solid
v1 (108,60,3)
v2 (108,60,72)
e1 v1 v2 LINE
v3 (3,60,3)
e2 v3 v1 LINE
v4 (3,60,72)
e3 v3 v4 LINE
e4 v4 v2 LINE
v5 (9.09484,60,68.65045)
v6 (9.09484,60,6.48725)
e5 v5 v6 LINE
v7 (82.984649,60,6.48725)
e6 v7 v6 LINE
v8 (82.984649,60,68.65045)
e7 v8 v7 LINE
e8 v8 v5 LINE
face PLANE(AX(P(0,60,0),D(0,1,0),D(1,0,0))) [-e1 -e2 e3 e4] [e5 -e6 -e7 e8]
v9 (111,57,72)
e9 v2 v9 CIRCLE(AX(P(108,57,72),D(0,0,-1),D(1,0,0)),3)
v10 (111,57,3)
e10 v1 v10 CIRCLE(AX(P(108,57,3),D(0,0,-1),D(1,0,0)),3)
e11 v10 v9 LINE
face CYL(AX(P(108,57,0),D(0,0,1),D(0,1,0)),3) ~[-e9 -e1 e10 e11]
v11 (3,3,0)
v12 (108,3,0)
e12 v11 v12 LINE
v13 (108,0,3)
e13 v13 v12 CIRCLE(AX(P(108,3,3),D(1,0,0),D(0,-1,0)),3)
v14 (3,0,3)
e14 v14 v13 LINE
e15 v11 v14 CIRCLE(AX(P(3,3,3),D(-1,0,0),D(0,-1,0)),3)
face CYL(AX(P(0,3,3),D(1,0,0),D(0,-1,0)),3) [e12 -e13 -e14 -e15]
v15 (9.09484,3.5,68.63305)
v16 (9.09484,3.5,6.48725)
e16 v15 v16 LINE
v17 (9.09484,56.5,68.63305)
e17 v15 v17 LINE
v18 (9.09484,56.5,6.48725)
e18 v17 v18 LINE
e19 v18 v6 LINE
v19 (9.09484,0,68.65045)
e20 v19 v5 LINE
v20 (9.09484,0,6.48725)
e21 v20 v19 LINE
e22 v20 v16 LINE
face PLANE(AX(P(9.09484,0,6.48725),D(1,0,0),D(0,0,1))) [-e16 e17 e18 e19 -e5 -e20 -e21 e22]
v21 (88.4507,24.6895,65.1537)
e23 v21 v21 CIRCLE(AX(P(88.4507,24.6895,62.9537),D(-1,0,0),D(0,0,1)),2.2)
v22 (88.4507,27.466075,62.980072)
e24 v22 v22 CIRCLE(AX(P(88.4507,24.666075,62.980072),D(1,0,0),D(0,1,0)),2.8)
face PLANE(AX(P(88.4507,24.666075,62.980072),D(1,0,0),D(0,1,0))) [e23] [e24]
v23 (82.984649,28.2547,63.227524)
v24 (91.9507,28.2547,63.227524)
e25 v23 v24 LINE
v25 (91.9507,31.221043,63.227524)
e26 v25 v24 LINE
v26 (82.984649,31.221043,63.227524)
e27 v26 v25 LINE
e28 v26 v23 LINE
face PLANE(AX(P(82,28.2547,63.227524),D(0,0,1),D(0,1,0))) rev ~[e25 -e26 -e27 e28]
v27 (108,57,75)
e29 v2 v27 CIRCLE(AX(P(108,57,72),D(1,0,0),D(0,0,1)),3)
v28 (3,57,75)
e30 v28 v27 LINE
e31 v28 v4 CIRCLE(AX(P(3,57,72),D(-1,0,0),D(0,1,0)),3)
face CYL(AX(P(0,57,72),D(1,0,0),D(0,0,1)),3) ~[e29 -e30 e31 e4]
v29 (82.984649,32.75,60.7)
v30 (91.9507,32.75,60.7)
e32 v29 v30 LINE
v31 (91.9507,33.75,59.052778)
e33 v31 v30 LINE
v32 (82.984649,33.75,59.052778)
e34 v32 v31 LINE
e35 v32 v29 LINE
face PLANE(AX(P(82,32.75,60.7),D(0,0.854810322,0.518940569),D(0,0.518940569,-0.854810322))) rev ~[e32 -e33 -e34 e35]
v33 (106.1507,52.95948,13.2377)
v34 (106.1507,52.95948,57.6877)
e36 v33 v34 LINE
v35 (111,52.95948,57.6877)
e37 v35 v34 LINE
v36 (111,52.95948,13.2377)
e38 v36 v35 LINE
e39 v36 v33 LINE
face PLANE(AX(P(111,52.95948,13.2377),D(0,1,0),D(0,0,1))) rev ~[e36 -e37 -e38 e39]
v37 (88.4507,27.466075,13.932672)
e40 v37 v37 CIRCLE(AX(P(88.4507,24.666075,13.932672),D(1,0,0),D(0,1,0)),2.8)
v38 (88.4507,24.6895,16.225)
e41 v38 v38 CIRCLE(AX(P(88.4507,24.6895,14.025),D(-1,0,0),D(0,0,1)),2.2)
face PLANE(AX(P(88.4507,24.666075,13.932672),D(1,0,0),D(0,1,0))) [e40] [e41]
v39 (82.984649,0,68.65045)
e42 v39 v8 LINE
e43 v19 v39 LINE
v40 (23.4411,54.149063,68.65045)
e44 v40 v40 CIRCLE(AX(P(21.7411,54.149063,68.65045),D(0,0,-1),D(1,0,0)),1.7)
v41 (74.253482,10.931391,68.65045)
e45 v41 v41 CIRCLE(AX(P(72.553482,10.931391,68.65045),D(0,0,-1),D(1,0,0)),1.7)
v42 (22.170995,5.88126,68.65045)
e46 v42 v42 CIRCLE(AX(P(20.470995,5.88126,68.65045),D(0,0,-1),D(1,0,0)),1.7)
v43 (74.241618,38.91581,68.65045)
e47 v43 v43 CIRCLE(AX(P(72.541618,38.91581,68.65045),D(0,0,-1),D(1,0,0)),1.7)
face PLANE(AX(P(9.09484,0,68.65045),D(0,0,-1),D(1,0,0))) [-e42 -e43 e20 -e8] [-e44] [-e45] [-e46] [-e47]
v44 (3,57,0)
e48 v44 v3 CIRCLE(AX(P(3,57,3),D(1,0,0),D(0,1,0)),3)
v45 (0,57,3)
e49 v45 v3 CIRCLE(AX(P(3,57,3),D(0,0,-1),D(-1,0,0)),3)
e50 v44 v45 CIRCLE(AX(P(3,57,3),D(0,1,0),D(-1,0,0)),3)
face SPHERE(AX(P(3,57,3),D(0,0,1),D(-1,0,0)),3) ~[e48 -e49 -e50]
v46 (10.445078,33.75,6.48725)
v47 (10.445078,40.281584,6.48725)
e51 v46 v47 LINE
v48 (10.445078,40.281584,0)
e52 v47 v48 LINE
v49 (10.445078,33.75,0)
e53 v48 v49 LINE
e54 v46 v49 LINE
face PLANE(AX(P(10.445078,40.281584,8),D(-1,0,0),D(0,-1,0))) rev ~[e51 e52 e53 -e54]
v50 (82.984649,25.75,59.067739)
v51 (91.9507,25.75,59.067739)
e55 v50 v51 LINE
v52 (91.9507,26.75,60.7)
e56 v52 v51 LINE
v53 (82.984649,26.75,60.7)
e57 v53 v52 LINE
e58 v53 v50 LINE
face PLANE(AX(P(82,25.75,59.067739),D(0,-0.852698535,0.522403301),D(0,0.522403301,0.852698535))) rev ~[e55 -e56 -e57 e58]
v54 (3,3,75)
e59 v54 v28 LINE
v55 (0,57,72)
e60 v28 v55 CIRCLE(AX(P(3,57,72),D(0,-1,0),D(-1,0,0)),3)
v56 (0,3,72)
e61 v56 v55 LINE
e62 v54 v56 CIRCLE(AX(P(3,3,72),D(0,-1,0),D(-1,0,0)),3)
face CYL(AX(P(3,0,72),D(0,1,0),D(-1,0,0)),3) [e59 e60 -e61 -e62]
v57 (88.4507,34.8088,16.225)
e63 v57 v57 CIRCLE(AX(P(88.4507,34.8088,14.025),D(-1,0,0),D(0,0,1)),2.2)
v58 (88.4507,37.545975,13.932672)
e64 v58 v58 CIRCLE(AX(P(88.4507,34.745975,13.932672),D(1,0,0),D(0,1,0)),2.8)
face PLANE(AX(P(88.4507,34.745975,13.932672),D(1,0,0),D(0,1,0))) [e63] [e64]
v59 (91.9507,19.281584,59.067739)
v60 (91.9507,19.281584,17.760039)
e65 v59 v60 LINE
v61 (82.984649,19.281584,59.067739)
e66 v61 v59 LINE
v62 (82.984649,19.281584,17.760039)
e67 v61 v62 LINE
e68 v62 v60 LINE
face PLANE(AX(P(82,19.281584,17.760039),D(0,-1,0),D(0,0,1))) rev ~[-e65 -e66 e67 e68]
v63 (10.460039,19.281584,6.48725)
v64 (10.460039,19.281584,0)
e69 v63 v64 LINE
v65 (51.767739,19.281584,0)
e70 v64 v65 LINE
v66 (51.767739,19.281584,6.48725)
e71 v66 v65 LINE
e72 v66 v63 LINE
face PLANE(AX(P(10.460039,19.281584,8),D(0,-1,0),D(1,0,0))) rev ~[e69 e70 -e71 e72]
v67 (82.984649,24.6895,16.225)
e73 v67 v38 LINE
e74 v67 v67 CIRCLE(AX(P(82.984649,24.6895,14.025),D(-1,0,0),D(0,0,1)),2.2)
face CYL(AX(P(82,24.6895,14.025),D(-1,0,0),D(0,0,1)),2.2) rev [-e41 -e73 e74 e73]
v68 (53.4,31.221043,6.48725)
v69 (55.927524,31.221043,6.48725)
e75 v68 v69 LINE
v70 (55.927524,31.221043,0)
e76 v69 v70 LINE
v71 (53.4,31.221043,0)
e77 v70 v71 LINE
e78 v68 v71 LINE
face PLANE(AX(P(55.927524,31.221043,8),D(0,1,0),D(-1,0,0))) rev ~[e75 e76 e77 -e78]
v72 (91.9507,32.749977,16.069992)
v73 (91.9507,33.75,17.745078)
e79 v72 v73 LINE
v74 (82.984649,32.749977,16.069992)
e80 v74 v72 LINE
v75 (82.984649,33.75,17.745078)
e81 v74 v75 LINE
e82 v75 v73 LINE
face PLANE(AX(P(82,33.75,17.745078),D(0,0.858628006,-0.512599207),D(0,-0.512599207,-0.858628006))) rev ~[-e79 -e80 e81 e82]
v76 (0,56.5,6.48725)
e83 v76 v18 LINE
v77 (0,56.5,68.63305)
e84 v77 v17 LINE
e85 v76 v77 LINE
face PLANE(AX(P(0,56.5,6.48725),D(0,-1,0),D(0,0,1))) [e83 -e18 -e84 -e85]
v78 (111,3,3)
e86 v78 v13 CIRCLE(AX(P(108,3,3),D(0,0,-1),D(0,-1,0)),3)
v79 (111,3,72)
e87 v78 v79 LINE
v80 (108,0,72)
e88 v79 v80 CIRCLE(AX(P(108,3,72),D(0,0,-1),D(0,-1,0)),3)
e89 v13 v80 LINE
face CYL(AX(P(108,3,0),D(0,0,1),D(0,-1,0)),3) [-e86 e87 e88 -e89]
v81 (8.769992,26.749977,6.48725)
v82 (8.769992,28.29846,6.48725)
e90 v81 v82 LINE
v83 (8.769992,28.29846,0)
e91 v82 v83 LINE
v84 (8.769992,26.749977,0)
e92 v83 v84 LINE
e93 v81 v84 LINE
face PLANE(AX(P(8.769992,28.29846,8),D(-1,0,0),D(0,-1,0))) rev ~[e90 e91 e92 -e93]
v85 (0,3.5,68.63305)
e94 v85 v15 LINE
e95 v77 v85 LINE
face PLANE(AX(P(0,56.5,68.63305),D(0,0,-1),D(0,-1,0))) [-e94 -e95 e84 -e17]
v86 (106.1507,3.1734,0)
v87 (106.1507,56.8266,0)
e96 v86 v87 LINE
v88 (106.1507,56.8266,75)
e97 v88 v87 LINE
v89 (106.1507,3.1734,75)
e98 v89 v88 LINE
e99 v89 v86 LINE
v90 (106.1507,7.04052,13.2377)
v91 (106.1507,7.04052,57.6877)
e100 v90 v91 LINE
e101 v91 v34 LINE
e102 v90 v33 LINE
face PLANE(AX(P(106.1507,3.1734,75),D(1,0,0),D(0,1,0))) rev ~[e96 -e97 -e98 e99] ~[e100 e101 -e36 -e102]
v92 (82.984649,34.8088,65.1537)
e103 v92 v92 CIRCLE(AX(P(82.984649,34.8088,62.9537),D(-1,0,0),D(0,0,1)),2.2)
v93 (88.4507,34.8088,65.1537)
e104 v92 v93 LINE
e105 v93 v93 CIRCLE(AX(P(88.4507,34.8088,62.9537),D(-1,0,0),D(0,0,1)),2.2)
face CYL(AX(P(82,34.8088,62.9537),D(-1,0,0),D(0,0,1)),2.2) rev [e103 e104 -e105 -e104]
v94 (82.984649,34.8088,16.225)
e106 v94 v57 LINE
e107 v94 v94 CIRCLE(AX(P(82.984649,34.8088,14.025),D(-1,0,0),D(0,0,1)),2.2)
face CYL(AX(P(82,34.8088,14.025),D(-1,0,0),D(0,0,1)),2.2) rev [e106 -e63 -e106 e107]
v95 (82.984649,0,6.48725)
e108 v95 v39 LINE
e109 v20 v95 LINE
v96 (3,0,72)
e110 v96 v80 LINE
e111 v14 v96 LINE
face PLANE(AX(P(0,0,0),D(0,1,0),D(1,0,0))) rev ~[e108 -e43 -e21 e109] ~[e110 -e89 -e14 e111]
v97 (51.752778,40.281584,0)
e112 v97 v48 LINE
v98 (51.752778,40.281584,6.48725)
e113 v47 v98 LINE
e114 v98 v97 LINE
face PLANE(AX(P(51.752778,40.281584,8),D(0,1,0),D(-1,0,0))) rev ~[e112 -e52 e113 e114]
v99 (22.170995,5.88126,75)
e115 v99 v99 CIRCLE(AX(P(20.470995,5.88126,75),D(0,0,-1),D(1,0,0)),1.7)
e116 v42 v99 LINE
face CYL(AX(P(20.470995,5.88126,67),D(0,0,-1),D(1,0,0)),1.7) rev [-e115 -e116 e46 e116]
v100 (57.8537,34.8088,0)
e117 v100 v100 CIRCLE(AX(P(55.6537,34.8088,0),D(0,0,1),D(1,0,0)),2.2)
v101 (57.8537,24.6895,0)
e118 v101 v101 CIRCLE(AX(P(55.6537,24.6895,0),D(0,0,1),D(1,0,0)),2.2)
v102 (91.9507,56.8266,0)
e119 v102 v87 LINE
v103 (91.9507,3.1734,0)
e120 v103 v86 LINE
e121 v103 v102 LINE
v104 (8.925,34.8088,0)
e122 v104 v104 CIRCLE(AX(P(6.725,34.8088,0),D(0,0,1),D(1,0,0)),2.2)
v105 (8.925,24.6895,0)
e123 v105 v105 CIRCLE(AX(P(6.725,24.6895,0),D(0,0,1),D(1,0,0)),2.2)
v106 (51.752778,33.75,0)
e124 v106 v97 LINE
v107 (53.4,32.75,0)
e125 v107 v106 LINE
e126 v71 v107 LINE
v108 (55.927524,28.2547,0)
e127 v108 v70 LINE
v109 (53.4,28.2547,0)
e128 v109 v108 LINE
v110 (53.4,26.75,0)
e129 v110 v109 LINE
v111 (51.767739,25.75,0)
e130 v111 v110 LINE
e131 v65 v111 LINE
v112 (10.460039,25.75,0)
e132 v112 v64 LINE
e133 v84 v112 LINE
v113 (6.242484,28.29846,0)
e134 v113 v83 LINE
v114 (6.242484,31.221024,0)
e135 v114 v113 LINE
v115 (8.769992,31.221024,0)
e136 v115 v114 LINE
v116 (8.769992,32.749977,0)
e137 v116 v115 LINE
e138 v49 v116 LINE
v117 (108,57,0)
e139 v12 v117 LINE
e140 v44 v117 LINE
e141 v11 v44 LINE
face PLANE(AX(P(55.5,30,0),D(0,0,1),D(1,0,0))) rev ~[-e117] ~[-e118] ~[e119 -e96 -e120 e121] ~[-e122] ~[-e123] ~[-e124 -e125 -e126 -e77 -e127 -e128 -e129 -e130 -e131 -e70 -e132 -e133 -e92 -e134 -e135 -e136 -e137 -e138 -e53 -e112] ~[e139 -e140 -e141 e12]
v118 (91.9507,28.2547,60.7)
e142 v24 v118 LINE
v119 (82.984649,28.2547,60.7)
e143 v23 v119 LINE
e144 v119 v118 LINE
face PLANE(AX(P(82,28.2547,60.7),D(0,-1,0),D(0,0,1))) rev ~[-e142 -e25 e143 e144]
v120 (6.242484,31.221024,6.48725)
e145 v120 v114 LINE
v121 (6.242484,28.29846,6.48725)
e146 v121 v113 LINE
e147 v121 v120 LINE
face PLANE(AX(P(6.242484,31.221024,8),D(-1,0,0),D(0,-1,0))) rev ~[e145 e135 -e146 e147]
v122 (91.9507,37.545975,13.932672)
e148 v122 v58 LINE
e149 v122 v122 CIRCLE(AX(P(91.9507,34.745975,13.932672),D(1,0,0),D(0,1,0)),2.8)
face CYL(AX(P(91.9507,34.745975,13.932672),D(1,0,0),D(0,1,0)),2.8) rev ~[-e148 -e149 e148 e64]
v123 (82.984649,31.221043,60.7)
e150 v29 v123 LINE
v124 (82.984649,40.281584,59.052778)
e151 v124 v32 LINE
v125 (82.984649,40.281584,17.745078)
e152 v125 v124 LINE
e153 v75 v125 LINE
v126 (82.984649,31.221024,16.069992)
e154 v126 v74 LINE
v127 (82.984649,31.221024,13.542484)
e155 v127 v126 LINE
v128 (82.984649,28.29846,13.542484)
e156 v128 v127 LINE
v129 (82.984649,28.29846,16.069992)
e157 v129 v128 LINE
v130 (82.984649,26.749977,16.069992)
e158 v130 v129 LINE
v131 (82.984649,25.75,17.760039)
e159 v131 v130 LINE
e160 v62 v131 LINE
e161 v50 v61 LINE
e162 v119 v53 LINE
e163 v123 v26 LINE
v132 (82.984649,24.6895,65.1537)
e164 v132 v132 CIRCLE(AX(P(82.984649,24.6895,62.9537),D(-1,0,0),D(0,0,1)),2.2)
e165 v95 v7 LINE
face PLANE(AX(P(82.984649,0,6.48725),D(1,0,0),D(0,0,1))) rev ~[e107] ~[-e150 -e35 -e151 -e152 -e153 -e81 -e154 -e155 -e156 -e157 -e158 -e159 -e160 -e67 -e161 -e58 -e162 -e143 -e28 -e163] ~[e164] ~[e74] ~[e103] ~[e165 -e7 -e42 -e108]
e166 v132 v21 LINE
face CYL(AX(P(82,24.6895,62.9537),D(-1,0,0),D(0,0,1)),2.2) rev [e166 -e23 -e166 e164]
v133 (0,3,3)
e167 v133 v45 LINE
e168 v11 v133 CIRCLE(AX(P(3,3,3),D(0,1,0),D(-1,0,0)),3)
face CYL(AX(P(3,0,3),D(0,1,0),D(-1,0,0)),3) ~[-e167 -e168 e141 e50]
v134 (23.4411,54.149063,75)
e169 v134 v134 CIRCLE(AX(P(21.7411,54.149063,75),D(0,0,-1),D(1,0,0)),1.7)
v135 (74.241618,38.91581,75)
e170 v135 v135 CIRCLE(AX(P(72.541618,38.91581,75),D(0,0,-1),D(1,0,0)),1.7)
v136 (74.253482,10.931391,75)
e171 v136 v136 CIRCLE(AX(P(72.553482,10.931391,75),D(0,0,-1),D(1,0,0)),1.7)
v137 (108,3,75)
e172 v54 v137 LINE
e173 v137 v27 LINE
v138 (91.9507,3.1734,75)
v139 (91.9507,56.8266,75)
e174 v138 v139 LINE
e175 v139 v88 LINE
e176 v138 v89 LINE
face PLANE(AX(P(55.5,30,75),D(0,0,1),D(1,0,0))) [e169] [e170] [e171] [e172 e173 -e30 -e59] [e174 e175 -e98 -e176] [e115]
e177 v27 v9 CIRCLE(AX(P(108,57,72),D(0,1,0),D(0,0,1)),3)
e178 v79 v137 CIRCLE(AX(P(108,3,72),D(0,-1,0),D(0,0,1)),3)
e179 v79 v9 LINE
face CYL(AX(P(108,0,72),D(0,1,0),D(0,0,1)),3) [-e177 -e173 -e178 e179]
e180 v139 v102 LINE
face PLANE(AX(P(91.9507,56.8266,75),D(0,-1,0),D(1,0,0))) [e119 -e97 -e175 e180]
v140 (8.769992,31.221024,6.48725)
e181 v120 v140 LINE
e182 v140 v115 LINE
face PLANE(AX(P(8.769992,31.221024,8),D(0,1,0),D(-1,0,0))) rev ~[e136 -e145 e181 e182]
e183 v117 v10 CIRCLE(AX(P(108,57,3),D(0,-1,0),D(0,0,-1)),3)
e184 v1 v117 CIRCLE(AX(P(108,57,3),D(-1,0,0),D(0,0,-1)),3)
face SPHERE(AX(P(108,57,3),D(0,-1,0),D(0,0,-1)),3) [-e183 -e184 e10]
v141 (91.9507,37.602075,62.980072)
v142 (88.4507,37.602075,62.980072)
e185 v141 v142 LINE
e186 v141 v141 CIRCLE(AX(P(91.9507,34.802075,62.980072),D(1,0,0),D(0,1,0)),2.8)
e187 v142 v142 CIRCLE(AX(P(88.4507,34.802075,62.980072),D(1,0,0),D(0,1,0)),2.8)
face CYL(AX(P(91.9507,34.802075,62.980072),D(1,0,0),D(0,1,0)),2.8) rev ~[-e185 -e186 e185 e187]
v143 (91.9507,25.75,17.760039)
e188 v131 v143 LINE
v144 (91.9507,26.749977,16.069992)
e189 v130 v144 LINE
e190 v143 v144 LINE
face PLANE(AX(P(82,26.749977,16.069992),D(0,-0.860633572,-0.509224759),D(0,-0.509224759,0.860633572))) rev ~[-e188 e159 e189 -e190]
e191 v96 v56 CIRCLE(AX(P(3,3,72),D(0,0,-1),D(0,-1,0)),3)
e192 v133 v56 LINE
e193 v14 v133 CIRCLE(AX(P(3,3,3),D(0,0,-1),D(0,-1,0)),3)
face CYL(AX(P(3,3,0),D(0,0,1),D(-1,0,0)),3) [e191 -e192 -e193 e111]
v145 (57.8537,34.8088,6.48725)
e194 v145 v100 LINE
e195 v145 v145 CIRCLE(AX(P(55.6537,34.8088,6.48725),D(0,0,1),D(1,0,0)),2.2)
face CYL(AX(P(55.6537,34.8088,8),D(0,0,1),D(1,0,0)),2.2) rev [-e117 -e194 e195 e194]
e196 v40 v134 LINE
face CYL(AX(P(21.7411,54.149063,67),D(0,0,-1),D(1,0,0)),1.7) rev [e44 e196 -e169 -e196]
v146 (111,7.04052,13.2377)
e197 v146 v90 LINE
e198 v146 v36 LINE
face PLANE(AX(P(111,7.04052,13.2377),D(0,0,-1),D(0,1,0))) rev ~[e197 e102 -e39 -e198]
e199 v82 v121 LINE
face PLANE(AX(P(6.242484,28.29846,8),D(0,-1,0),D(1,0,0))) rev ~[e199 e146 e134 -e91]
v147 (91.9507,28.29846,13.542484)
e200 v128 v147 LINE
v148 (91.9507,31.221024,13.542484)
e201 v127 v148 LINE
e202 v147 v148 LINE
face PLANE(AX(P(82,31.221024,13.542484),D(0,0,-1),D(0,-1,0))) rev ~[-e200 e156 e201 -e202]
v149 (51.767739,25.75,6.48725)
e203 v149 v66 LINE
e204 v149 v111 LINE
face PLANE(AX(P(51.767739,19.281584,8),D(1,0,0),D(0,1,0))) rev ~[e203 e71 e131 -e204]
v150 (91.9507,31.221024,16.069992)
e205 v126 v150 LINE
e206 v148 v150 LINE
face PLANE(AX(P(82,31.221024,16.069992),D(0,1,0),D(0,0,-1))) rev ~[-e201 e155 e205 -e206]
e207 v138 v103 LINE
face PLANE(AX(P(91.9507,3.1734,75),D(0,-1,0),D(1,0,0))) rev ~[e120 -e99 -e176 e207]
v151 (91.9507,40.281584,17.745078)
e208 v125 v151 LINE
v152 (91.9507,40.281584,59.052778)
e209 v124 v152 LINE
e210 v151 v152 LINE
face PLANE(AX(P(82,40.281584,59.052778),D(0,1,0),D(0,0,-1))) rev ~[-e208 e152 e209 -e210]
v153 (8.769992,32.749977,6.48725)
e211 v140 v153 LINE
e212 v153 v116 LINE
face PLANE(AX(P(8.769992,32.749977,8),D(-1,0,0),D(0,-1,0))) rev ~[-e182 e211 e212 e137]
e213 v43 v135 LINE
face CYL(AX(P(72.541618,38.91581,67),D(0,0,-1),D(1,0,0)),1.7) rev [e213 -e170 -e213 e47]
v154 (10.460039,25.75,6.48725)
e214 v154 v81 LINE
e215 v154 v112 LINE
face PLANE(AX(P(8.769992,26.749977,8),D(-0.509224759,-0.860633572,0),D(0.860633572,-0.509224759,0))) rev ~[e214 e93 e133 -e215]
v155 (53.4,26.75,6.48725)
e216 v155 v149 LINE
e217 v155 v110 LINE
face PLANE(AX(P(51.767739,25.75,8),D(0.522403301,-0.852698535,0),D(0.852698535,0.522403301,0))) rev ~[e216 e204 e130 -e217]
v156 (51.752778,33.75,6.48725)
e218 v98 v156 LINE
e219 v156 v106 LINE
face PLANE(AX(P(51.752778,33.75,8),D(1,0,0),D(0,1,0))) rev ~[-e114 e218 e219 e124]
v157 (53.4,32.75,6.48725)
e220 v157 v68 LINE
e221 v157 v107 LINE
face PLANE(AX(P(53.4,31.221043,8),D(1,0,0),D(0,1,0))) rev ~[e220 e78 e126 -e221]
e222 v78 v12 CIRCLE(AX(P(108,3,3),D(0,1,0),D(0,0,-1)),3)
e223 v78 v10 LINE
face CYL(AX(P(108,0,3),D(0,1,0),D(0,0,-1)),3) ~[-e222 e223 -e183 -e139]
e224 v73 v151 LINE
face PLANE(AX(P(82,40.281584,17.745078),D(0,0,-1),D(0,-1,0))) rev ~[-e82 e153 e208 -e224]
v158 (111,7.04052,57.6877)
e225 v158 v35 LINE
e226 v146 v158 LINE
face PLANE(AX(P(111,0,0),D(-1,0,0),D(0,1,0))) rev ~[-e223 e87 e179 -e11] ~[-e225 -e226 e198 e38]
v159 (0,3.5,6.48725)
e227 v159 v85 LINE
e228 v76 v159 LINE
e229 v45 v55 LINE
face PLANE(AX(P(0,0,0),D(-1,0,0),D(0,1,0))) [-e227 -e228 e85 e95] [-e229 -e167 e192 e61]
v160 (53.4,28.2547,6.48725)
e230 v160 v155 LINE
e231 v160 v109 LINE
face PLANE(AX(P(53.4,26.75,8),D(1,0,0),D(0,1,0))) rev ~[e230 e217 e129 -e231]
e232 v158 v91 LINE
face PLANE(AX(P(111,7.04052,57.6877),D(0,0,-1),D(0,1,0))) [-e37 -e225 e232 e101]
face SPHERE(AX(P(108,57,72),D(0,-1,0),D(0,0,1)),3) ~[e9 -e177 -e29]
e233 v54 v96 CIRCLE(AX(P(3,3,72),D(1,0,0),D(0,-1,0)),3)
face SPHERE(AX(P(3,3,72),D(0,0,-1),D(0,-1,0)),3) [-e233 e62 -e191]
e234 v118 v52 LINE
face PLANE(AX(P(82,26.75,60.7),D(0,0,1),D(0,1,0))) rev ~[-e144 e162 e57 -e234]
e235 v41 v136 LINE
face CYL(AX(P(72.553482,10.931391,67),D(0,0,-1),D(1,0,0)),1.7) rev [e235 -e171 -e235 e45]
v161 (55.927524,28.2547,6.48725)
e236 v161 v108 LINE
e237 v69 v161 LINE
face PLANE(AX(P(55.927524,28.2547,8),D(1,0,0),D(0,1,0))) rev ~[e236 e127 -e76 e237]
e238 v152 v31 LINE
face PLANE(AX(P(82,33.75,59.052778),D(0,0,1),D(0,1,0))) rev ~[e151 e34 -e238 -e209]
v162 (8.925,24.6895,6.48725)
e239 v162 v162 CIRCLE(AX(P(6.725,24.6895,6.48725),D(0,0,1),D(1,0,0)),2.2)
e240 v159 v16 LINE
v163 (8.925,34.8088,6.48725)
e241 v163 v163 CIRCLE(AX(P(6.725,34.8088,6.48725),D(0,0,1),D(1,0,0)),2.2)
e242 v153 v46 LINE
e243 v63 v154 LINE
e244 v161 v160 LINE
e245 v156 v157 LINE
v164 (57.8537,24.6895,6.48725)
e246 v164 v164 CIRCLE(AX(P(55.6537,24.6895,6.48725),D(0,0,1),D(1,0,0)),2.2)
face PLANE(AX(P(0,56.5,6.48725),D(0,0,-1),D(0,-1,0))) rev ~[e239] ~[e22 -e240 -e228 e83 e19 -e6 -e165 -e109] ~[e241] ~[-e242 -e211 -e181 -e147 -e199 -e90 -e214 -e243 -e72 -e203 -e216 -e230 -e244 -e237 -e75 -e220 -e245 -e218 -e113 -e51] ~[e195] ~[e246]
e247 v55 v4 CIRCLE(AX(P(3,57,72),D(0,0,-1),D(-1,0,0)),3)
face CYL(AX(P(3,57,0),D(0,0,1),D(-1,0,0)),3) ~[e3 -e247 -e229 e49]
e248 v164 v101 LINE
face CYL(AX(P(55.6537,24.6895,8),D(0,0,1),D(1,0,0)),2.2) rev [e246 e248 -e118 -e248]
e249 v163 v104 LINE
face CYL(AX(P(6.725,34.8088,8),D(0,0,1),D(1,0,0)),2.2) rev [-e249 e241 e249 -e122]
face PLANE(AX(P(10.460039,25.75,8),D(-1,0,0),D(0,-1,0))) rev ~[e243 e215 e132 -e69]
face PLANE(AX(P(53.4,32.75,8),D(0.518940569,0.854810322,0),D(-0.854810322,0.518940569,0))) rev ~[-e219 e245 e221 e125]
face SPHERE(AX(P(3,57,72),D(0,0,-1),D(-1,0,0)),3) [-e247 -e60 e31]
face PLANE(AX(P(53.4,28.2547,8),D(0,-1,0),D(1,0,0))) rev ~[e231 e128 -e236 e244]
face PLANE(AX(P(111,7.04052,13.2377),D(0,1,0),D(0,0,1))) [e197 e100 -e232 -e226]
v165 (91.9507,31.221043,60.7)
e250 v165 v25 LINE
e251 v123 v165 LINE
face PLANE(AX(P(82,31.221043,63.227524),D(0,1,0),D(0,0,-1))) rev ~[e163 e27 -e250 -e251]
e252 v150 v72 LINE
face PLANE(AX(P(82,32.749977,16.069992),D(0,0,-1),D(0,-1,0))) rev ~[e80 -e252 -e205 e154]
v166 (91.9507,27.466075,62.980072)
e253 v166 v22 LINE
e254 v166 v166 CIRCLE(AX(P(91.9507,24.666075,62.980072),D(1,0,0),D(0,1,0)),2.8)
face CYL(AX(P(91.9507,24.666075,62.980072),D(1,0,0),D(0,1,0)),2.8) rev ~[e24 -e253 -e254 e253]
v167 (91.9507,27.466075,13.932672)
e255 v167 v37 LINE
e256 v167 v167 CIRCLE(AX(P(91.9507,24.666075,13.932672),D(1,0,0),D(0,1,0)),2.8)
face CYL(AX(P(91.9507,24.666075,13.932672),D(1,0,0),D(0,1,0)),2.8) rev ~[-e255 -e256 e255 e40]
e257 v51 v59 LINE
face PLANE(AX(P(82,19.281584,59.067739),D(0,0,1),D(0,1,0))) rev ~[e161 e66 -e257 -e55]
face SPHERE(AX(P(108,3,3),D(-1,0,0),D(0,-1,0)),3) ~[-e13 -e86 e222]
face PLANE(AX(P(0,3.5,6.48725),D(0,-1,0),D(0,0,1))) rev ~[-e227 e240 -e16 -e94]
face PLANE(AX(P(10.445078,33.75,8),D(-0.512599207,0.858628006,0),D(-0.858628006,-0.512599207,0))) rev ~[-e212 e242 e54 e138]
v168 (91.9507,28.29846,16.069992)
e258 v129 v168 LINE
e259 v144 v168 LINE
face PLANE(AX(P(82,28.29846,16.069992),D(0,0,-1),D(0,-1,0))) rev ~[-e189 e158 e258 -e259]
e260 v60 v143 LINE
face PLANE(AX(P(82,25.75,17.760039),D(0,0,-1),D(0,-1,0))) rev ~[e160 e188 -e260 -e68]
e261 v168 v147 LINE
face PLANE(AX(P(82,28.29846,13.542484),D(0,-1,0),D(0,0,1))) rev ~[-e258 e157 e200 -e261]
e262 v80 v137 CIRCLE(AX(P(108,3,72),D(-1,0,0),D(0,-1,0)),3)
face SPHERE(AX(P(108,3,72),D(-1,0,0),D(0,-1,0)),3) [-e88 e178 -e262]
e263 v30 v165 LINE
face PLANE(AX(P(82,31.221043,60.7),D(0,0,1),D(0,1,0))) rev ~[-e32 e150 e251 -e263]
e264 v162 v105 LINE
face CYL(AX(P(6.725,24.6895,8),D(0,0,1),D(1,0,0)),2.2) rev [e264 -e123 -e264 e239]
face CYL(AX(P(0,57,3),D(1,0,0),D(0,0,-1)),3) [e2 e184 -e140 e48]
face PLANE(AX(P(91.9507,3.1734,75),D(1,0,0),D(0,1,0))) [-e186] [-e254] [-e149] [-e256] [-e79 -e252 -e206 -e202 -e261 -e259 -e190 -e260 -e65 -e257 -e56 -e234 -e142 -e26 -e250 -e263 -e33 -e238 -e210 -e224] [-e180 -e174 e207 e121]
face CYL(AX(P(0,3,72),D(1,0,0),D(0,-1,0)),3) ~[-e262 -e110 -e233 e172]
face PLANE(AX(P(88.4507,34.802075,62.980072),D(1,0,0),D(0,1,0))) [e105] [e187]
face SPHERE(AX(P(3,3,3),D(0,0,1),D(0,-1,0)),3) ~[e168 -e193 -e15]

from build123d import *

# Parameters (mm, degrees)
SKETCH041_R              = 2.2
PAD010_DEPTH             = 20
SKETCH042_R              = 2.2
PAD011_DEPTH             = 20
SKETCH033_R              = 1.7
EXTRUDE002_DEPTH         = 10
SKETCH035_W              = 111
SKETCH035_H              = 60
PAD009_DEPTH             = 75
SKETCH036_W              = 73.889809
SKETCH036_H              = 62.1632
POCKET002008007007_DEPTH = 65
SKETCH037_W              = 53
SKETCH037_H              = 62.1458
POCKET002008007008_DEPTH = 10
SKETCH038_W              = 14.2
SKETCH038_H              = 53.6532
POCKET002008007009_DEPTH = 90
SKETCH039_W              = 45.91896
SKETCH039_H              = 44.45
POCKET002008007010_DEPTH = 15
SKETCH043_R              = 2.8
POCKET002008007011_DEPTH = 3.5
FILLET001008003_R        = 3


with BuildPart() as futaba_hole_front:
    # Sketch041 → Pad010 (new body)
    with BuildSketch(Plane(origin=(82, 118.75, 168.7), x_dir=(0, 0, 1), z_dir=(1, 0, 0))):
        with Locations((-105.7463, 94.0605)):
            Circle(SKETCH041_R)
        with Locations((-105.7463, 83.9412)):
            Circle(SKETCH041_R)
        with Locations((-154.675, 83.9412)):
            Circle(SKETCH041_R)
        with Locations((-154.675, 94.0605)):
            Circle(SKETCH041_R)
        Polygon((-150.939961, 99.468416), (-109.632261, 99.468416), (-109.632261, 93), (-108, 92), (-108, 90.4953), (-105.472476, 90.4953), (-105.472476, 87.528957), (-108, 87.528957), (-108, 86), (-109.647222, 85), (-109.647222, 78.468416), (-150.954922, 78.468416), (-150.954922, 85), (-152.630008, 86.000023), (-152.630008, 87.528976), (-155.157516, 87.528976), (-155.157516, 90.45154), (-152.630008, 90.45154), (-152.630008, 92.000023), (-150.939961, 93), align=None)
    extrude(amount=PAD010_DEPTH)


with BuildPart() as futaba_hole_bottom:
    # Sketch042 → Pad011 (new body)
    with BuildSketch(Plane(origin=(161.4, 118.75, 8), x_dir=(1, 0, 0), z_dir=(0, 0, -1))):
        with Locations((-105.7463, 94.0605)):
            Circle(SKETCH042_R)
        with Locations((-105.7463, 83.9412)):
            Circle(SKETCH042_R)
        with Locations((-154.675, 83.9412)):
            Circle(SKETCH042_R)
        with Locations((-154.675, 94.0605)):
            Circle(SKETCH042_R)
        Polygon((-150.939961, 99.468416), (-109.632261, 99.468416), (-109.632261, 93), (-108, 92), (-108, 90.4953), (-105.472476, 90.4953), (-105.472476, 87.528957), (-108, 87.528957), (-108, 86), (-109.647222, 85), (-109.647222, 78.468416), (-150.954922, 78.468416), (-150.954922, 85), (-152.630008, 86.000023), (-152.630008, 87.528976), (-155.157516, 87.528976), (-155.157516, 90.45154), (-152.630008, 90.45154), (-152.630008, 92.000023), (-150.939961, 93), align=None)
    extrude(amount=PAD011_DEPTH)


with BuildPart() as holes_servos_and_arduino:
    # Sketch033 → Extrude002 (new body)
    with BuildSketch(Plane.XY.offset(60)):
        with Locations((21.7411, 54.149063)):
            Circle(SKETCH033_R)
        with Locations((20.470995, 5.88126)):
            Circle(SKETCH033_R)
        with Locations((72.541618, 38.91581)):
            Circle(SKETCH033_R)
        with Locations((72.553482, 10.931391)):
            Circle(SKETCH033_R)
    extrude(amount=EXTRUDE002_DEPTH)


with BuildPart() as holes_servos_and_arduino_1:
    # Extrude002 placement: moved
    add(holes_servos_and_arduino.part.moved(Location((0, 0, 7))))

    # Fusion009003005002: union futaba_hole_front, futaba_hole_bottom
    add(futaba_hole_front.part)
    add(futaba_hole_bottom.part)


with BuildPart() as futaba_arduino_body001:
    # Sketch035 → Pad009 (new body)
    with BuildSketch(Plane.XY):
        with Locations((55.5, 30)):
            Rectangle(SKETCH035_W, SKETCH035_H)
    extrude(amount=PAD009_DEPTH)

    # Sketch036 → Pocket002008007007 (cut)
    with BuildSketch(Plane.XZ):
        with Locations((46.039744, 37.56885)):
            Rectangle(SKETCH036_W, SKETCH036_H)
    extrude(amount=-POCKET002008007007_DEPTH, mode=Mode.SUBTRACT)

    # Sketch037 → Pocket002008007008 (cut)
    with BuildSketch(Plane(origin=(0, 0, 0), x_dir=(0, -1, 0), z_dir=(-1, 0, 0))):
        with Locations((-30, 37.56015)):
            Rectangle(SKETCH037_W, SKETCH037_H)
    extrude(amount=-POCKET002008007008_DEPTH, mode=Mode.SUBTRACT)

    # Sketch038 → Pocket002008007009 (cut)
    with BuildSketch(Plane.XY.offset(75)):
        with Locations((99.0507, 30)):
            Rectangle(SKETCH038_W, SKETCH038_H)
    extrude(amount=-POCKET002008007009_DEPTH, mode=Mode.SUBTRACT)

    # Sketch039 → Pocket002008007010 (cut)
    with BuildSketch(Plane.YZ.offset(111)):
        with Locations((30, 35.4627)):
            Rectangle(SKETCH039_W, SKETCH039_H)
    extrude(amount=-POCKET002008007010_DEPTH, mode=Mode.SUBTRACT)

    # Sketch043 → Pocket002008007011 (cut)
    with BuildSketch(Plane.YZ.offset(91.9507)):
        with Locations((24.666075, 62.980072)):
            Circle(SKETCH043_R)
        with Locations((34.802075, 62.980072)):
            Circle(SKETCH043_R)
        with Locations((24.666075, 13.932672)):
            Circle(SKETCH043_R)
        with Locations((34.745975, 13.932672)):
            Circle(SKETCH043_R)
    extrude(amount=-POCKET002008007011_DEPTH, mode=Mode.SUBTRACT)

    # Cut003: cut holes_servos_and_arduino
    add(holes_servos_and_arduino_1.part, mode=Mode.SUBTRACT)

    # Fillet001008003
    fillet001008003_edges = [futaba_arduino_body001.edges().sort_by_distance(p)[0] for p in [
        (0, 0, 37.5),
        (55.5, 0, 0),
        (55.5, 0, 75),
        (111, 0, 37.5),
        (0, 60, 37.5),
        (0, 30, 0),
        (0, 30, 75),
        (111, 30, 0),
        (55.5, 60, 0),
        (111, 30, 75),
        (55.5, 60, 75),
        (111, 60, 37.5),
    ]]
    fillet(fillet001008003_edges, radius=FILLET001008003_R)


solid = futaba_arduino_body001.part
